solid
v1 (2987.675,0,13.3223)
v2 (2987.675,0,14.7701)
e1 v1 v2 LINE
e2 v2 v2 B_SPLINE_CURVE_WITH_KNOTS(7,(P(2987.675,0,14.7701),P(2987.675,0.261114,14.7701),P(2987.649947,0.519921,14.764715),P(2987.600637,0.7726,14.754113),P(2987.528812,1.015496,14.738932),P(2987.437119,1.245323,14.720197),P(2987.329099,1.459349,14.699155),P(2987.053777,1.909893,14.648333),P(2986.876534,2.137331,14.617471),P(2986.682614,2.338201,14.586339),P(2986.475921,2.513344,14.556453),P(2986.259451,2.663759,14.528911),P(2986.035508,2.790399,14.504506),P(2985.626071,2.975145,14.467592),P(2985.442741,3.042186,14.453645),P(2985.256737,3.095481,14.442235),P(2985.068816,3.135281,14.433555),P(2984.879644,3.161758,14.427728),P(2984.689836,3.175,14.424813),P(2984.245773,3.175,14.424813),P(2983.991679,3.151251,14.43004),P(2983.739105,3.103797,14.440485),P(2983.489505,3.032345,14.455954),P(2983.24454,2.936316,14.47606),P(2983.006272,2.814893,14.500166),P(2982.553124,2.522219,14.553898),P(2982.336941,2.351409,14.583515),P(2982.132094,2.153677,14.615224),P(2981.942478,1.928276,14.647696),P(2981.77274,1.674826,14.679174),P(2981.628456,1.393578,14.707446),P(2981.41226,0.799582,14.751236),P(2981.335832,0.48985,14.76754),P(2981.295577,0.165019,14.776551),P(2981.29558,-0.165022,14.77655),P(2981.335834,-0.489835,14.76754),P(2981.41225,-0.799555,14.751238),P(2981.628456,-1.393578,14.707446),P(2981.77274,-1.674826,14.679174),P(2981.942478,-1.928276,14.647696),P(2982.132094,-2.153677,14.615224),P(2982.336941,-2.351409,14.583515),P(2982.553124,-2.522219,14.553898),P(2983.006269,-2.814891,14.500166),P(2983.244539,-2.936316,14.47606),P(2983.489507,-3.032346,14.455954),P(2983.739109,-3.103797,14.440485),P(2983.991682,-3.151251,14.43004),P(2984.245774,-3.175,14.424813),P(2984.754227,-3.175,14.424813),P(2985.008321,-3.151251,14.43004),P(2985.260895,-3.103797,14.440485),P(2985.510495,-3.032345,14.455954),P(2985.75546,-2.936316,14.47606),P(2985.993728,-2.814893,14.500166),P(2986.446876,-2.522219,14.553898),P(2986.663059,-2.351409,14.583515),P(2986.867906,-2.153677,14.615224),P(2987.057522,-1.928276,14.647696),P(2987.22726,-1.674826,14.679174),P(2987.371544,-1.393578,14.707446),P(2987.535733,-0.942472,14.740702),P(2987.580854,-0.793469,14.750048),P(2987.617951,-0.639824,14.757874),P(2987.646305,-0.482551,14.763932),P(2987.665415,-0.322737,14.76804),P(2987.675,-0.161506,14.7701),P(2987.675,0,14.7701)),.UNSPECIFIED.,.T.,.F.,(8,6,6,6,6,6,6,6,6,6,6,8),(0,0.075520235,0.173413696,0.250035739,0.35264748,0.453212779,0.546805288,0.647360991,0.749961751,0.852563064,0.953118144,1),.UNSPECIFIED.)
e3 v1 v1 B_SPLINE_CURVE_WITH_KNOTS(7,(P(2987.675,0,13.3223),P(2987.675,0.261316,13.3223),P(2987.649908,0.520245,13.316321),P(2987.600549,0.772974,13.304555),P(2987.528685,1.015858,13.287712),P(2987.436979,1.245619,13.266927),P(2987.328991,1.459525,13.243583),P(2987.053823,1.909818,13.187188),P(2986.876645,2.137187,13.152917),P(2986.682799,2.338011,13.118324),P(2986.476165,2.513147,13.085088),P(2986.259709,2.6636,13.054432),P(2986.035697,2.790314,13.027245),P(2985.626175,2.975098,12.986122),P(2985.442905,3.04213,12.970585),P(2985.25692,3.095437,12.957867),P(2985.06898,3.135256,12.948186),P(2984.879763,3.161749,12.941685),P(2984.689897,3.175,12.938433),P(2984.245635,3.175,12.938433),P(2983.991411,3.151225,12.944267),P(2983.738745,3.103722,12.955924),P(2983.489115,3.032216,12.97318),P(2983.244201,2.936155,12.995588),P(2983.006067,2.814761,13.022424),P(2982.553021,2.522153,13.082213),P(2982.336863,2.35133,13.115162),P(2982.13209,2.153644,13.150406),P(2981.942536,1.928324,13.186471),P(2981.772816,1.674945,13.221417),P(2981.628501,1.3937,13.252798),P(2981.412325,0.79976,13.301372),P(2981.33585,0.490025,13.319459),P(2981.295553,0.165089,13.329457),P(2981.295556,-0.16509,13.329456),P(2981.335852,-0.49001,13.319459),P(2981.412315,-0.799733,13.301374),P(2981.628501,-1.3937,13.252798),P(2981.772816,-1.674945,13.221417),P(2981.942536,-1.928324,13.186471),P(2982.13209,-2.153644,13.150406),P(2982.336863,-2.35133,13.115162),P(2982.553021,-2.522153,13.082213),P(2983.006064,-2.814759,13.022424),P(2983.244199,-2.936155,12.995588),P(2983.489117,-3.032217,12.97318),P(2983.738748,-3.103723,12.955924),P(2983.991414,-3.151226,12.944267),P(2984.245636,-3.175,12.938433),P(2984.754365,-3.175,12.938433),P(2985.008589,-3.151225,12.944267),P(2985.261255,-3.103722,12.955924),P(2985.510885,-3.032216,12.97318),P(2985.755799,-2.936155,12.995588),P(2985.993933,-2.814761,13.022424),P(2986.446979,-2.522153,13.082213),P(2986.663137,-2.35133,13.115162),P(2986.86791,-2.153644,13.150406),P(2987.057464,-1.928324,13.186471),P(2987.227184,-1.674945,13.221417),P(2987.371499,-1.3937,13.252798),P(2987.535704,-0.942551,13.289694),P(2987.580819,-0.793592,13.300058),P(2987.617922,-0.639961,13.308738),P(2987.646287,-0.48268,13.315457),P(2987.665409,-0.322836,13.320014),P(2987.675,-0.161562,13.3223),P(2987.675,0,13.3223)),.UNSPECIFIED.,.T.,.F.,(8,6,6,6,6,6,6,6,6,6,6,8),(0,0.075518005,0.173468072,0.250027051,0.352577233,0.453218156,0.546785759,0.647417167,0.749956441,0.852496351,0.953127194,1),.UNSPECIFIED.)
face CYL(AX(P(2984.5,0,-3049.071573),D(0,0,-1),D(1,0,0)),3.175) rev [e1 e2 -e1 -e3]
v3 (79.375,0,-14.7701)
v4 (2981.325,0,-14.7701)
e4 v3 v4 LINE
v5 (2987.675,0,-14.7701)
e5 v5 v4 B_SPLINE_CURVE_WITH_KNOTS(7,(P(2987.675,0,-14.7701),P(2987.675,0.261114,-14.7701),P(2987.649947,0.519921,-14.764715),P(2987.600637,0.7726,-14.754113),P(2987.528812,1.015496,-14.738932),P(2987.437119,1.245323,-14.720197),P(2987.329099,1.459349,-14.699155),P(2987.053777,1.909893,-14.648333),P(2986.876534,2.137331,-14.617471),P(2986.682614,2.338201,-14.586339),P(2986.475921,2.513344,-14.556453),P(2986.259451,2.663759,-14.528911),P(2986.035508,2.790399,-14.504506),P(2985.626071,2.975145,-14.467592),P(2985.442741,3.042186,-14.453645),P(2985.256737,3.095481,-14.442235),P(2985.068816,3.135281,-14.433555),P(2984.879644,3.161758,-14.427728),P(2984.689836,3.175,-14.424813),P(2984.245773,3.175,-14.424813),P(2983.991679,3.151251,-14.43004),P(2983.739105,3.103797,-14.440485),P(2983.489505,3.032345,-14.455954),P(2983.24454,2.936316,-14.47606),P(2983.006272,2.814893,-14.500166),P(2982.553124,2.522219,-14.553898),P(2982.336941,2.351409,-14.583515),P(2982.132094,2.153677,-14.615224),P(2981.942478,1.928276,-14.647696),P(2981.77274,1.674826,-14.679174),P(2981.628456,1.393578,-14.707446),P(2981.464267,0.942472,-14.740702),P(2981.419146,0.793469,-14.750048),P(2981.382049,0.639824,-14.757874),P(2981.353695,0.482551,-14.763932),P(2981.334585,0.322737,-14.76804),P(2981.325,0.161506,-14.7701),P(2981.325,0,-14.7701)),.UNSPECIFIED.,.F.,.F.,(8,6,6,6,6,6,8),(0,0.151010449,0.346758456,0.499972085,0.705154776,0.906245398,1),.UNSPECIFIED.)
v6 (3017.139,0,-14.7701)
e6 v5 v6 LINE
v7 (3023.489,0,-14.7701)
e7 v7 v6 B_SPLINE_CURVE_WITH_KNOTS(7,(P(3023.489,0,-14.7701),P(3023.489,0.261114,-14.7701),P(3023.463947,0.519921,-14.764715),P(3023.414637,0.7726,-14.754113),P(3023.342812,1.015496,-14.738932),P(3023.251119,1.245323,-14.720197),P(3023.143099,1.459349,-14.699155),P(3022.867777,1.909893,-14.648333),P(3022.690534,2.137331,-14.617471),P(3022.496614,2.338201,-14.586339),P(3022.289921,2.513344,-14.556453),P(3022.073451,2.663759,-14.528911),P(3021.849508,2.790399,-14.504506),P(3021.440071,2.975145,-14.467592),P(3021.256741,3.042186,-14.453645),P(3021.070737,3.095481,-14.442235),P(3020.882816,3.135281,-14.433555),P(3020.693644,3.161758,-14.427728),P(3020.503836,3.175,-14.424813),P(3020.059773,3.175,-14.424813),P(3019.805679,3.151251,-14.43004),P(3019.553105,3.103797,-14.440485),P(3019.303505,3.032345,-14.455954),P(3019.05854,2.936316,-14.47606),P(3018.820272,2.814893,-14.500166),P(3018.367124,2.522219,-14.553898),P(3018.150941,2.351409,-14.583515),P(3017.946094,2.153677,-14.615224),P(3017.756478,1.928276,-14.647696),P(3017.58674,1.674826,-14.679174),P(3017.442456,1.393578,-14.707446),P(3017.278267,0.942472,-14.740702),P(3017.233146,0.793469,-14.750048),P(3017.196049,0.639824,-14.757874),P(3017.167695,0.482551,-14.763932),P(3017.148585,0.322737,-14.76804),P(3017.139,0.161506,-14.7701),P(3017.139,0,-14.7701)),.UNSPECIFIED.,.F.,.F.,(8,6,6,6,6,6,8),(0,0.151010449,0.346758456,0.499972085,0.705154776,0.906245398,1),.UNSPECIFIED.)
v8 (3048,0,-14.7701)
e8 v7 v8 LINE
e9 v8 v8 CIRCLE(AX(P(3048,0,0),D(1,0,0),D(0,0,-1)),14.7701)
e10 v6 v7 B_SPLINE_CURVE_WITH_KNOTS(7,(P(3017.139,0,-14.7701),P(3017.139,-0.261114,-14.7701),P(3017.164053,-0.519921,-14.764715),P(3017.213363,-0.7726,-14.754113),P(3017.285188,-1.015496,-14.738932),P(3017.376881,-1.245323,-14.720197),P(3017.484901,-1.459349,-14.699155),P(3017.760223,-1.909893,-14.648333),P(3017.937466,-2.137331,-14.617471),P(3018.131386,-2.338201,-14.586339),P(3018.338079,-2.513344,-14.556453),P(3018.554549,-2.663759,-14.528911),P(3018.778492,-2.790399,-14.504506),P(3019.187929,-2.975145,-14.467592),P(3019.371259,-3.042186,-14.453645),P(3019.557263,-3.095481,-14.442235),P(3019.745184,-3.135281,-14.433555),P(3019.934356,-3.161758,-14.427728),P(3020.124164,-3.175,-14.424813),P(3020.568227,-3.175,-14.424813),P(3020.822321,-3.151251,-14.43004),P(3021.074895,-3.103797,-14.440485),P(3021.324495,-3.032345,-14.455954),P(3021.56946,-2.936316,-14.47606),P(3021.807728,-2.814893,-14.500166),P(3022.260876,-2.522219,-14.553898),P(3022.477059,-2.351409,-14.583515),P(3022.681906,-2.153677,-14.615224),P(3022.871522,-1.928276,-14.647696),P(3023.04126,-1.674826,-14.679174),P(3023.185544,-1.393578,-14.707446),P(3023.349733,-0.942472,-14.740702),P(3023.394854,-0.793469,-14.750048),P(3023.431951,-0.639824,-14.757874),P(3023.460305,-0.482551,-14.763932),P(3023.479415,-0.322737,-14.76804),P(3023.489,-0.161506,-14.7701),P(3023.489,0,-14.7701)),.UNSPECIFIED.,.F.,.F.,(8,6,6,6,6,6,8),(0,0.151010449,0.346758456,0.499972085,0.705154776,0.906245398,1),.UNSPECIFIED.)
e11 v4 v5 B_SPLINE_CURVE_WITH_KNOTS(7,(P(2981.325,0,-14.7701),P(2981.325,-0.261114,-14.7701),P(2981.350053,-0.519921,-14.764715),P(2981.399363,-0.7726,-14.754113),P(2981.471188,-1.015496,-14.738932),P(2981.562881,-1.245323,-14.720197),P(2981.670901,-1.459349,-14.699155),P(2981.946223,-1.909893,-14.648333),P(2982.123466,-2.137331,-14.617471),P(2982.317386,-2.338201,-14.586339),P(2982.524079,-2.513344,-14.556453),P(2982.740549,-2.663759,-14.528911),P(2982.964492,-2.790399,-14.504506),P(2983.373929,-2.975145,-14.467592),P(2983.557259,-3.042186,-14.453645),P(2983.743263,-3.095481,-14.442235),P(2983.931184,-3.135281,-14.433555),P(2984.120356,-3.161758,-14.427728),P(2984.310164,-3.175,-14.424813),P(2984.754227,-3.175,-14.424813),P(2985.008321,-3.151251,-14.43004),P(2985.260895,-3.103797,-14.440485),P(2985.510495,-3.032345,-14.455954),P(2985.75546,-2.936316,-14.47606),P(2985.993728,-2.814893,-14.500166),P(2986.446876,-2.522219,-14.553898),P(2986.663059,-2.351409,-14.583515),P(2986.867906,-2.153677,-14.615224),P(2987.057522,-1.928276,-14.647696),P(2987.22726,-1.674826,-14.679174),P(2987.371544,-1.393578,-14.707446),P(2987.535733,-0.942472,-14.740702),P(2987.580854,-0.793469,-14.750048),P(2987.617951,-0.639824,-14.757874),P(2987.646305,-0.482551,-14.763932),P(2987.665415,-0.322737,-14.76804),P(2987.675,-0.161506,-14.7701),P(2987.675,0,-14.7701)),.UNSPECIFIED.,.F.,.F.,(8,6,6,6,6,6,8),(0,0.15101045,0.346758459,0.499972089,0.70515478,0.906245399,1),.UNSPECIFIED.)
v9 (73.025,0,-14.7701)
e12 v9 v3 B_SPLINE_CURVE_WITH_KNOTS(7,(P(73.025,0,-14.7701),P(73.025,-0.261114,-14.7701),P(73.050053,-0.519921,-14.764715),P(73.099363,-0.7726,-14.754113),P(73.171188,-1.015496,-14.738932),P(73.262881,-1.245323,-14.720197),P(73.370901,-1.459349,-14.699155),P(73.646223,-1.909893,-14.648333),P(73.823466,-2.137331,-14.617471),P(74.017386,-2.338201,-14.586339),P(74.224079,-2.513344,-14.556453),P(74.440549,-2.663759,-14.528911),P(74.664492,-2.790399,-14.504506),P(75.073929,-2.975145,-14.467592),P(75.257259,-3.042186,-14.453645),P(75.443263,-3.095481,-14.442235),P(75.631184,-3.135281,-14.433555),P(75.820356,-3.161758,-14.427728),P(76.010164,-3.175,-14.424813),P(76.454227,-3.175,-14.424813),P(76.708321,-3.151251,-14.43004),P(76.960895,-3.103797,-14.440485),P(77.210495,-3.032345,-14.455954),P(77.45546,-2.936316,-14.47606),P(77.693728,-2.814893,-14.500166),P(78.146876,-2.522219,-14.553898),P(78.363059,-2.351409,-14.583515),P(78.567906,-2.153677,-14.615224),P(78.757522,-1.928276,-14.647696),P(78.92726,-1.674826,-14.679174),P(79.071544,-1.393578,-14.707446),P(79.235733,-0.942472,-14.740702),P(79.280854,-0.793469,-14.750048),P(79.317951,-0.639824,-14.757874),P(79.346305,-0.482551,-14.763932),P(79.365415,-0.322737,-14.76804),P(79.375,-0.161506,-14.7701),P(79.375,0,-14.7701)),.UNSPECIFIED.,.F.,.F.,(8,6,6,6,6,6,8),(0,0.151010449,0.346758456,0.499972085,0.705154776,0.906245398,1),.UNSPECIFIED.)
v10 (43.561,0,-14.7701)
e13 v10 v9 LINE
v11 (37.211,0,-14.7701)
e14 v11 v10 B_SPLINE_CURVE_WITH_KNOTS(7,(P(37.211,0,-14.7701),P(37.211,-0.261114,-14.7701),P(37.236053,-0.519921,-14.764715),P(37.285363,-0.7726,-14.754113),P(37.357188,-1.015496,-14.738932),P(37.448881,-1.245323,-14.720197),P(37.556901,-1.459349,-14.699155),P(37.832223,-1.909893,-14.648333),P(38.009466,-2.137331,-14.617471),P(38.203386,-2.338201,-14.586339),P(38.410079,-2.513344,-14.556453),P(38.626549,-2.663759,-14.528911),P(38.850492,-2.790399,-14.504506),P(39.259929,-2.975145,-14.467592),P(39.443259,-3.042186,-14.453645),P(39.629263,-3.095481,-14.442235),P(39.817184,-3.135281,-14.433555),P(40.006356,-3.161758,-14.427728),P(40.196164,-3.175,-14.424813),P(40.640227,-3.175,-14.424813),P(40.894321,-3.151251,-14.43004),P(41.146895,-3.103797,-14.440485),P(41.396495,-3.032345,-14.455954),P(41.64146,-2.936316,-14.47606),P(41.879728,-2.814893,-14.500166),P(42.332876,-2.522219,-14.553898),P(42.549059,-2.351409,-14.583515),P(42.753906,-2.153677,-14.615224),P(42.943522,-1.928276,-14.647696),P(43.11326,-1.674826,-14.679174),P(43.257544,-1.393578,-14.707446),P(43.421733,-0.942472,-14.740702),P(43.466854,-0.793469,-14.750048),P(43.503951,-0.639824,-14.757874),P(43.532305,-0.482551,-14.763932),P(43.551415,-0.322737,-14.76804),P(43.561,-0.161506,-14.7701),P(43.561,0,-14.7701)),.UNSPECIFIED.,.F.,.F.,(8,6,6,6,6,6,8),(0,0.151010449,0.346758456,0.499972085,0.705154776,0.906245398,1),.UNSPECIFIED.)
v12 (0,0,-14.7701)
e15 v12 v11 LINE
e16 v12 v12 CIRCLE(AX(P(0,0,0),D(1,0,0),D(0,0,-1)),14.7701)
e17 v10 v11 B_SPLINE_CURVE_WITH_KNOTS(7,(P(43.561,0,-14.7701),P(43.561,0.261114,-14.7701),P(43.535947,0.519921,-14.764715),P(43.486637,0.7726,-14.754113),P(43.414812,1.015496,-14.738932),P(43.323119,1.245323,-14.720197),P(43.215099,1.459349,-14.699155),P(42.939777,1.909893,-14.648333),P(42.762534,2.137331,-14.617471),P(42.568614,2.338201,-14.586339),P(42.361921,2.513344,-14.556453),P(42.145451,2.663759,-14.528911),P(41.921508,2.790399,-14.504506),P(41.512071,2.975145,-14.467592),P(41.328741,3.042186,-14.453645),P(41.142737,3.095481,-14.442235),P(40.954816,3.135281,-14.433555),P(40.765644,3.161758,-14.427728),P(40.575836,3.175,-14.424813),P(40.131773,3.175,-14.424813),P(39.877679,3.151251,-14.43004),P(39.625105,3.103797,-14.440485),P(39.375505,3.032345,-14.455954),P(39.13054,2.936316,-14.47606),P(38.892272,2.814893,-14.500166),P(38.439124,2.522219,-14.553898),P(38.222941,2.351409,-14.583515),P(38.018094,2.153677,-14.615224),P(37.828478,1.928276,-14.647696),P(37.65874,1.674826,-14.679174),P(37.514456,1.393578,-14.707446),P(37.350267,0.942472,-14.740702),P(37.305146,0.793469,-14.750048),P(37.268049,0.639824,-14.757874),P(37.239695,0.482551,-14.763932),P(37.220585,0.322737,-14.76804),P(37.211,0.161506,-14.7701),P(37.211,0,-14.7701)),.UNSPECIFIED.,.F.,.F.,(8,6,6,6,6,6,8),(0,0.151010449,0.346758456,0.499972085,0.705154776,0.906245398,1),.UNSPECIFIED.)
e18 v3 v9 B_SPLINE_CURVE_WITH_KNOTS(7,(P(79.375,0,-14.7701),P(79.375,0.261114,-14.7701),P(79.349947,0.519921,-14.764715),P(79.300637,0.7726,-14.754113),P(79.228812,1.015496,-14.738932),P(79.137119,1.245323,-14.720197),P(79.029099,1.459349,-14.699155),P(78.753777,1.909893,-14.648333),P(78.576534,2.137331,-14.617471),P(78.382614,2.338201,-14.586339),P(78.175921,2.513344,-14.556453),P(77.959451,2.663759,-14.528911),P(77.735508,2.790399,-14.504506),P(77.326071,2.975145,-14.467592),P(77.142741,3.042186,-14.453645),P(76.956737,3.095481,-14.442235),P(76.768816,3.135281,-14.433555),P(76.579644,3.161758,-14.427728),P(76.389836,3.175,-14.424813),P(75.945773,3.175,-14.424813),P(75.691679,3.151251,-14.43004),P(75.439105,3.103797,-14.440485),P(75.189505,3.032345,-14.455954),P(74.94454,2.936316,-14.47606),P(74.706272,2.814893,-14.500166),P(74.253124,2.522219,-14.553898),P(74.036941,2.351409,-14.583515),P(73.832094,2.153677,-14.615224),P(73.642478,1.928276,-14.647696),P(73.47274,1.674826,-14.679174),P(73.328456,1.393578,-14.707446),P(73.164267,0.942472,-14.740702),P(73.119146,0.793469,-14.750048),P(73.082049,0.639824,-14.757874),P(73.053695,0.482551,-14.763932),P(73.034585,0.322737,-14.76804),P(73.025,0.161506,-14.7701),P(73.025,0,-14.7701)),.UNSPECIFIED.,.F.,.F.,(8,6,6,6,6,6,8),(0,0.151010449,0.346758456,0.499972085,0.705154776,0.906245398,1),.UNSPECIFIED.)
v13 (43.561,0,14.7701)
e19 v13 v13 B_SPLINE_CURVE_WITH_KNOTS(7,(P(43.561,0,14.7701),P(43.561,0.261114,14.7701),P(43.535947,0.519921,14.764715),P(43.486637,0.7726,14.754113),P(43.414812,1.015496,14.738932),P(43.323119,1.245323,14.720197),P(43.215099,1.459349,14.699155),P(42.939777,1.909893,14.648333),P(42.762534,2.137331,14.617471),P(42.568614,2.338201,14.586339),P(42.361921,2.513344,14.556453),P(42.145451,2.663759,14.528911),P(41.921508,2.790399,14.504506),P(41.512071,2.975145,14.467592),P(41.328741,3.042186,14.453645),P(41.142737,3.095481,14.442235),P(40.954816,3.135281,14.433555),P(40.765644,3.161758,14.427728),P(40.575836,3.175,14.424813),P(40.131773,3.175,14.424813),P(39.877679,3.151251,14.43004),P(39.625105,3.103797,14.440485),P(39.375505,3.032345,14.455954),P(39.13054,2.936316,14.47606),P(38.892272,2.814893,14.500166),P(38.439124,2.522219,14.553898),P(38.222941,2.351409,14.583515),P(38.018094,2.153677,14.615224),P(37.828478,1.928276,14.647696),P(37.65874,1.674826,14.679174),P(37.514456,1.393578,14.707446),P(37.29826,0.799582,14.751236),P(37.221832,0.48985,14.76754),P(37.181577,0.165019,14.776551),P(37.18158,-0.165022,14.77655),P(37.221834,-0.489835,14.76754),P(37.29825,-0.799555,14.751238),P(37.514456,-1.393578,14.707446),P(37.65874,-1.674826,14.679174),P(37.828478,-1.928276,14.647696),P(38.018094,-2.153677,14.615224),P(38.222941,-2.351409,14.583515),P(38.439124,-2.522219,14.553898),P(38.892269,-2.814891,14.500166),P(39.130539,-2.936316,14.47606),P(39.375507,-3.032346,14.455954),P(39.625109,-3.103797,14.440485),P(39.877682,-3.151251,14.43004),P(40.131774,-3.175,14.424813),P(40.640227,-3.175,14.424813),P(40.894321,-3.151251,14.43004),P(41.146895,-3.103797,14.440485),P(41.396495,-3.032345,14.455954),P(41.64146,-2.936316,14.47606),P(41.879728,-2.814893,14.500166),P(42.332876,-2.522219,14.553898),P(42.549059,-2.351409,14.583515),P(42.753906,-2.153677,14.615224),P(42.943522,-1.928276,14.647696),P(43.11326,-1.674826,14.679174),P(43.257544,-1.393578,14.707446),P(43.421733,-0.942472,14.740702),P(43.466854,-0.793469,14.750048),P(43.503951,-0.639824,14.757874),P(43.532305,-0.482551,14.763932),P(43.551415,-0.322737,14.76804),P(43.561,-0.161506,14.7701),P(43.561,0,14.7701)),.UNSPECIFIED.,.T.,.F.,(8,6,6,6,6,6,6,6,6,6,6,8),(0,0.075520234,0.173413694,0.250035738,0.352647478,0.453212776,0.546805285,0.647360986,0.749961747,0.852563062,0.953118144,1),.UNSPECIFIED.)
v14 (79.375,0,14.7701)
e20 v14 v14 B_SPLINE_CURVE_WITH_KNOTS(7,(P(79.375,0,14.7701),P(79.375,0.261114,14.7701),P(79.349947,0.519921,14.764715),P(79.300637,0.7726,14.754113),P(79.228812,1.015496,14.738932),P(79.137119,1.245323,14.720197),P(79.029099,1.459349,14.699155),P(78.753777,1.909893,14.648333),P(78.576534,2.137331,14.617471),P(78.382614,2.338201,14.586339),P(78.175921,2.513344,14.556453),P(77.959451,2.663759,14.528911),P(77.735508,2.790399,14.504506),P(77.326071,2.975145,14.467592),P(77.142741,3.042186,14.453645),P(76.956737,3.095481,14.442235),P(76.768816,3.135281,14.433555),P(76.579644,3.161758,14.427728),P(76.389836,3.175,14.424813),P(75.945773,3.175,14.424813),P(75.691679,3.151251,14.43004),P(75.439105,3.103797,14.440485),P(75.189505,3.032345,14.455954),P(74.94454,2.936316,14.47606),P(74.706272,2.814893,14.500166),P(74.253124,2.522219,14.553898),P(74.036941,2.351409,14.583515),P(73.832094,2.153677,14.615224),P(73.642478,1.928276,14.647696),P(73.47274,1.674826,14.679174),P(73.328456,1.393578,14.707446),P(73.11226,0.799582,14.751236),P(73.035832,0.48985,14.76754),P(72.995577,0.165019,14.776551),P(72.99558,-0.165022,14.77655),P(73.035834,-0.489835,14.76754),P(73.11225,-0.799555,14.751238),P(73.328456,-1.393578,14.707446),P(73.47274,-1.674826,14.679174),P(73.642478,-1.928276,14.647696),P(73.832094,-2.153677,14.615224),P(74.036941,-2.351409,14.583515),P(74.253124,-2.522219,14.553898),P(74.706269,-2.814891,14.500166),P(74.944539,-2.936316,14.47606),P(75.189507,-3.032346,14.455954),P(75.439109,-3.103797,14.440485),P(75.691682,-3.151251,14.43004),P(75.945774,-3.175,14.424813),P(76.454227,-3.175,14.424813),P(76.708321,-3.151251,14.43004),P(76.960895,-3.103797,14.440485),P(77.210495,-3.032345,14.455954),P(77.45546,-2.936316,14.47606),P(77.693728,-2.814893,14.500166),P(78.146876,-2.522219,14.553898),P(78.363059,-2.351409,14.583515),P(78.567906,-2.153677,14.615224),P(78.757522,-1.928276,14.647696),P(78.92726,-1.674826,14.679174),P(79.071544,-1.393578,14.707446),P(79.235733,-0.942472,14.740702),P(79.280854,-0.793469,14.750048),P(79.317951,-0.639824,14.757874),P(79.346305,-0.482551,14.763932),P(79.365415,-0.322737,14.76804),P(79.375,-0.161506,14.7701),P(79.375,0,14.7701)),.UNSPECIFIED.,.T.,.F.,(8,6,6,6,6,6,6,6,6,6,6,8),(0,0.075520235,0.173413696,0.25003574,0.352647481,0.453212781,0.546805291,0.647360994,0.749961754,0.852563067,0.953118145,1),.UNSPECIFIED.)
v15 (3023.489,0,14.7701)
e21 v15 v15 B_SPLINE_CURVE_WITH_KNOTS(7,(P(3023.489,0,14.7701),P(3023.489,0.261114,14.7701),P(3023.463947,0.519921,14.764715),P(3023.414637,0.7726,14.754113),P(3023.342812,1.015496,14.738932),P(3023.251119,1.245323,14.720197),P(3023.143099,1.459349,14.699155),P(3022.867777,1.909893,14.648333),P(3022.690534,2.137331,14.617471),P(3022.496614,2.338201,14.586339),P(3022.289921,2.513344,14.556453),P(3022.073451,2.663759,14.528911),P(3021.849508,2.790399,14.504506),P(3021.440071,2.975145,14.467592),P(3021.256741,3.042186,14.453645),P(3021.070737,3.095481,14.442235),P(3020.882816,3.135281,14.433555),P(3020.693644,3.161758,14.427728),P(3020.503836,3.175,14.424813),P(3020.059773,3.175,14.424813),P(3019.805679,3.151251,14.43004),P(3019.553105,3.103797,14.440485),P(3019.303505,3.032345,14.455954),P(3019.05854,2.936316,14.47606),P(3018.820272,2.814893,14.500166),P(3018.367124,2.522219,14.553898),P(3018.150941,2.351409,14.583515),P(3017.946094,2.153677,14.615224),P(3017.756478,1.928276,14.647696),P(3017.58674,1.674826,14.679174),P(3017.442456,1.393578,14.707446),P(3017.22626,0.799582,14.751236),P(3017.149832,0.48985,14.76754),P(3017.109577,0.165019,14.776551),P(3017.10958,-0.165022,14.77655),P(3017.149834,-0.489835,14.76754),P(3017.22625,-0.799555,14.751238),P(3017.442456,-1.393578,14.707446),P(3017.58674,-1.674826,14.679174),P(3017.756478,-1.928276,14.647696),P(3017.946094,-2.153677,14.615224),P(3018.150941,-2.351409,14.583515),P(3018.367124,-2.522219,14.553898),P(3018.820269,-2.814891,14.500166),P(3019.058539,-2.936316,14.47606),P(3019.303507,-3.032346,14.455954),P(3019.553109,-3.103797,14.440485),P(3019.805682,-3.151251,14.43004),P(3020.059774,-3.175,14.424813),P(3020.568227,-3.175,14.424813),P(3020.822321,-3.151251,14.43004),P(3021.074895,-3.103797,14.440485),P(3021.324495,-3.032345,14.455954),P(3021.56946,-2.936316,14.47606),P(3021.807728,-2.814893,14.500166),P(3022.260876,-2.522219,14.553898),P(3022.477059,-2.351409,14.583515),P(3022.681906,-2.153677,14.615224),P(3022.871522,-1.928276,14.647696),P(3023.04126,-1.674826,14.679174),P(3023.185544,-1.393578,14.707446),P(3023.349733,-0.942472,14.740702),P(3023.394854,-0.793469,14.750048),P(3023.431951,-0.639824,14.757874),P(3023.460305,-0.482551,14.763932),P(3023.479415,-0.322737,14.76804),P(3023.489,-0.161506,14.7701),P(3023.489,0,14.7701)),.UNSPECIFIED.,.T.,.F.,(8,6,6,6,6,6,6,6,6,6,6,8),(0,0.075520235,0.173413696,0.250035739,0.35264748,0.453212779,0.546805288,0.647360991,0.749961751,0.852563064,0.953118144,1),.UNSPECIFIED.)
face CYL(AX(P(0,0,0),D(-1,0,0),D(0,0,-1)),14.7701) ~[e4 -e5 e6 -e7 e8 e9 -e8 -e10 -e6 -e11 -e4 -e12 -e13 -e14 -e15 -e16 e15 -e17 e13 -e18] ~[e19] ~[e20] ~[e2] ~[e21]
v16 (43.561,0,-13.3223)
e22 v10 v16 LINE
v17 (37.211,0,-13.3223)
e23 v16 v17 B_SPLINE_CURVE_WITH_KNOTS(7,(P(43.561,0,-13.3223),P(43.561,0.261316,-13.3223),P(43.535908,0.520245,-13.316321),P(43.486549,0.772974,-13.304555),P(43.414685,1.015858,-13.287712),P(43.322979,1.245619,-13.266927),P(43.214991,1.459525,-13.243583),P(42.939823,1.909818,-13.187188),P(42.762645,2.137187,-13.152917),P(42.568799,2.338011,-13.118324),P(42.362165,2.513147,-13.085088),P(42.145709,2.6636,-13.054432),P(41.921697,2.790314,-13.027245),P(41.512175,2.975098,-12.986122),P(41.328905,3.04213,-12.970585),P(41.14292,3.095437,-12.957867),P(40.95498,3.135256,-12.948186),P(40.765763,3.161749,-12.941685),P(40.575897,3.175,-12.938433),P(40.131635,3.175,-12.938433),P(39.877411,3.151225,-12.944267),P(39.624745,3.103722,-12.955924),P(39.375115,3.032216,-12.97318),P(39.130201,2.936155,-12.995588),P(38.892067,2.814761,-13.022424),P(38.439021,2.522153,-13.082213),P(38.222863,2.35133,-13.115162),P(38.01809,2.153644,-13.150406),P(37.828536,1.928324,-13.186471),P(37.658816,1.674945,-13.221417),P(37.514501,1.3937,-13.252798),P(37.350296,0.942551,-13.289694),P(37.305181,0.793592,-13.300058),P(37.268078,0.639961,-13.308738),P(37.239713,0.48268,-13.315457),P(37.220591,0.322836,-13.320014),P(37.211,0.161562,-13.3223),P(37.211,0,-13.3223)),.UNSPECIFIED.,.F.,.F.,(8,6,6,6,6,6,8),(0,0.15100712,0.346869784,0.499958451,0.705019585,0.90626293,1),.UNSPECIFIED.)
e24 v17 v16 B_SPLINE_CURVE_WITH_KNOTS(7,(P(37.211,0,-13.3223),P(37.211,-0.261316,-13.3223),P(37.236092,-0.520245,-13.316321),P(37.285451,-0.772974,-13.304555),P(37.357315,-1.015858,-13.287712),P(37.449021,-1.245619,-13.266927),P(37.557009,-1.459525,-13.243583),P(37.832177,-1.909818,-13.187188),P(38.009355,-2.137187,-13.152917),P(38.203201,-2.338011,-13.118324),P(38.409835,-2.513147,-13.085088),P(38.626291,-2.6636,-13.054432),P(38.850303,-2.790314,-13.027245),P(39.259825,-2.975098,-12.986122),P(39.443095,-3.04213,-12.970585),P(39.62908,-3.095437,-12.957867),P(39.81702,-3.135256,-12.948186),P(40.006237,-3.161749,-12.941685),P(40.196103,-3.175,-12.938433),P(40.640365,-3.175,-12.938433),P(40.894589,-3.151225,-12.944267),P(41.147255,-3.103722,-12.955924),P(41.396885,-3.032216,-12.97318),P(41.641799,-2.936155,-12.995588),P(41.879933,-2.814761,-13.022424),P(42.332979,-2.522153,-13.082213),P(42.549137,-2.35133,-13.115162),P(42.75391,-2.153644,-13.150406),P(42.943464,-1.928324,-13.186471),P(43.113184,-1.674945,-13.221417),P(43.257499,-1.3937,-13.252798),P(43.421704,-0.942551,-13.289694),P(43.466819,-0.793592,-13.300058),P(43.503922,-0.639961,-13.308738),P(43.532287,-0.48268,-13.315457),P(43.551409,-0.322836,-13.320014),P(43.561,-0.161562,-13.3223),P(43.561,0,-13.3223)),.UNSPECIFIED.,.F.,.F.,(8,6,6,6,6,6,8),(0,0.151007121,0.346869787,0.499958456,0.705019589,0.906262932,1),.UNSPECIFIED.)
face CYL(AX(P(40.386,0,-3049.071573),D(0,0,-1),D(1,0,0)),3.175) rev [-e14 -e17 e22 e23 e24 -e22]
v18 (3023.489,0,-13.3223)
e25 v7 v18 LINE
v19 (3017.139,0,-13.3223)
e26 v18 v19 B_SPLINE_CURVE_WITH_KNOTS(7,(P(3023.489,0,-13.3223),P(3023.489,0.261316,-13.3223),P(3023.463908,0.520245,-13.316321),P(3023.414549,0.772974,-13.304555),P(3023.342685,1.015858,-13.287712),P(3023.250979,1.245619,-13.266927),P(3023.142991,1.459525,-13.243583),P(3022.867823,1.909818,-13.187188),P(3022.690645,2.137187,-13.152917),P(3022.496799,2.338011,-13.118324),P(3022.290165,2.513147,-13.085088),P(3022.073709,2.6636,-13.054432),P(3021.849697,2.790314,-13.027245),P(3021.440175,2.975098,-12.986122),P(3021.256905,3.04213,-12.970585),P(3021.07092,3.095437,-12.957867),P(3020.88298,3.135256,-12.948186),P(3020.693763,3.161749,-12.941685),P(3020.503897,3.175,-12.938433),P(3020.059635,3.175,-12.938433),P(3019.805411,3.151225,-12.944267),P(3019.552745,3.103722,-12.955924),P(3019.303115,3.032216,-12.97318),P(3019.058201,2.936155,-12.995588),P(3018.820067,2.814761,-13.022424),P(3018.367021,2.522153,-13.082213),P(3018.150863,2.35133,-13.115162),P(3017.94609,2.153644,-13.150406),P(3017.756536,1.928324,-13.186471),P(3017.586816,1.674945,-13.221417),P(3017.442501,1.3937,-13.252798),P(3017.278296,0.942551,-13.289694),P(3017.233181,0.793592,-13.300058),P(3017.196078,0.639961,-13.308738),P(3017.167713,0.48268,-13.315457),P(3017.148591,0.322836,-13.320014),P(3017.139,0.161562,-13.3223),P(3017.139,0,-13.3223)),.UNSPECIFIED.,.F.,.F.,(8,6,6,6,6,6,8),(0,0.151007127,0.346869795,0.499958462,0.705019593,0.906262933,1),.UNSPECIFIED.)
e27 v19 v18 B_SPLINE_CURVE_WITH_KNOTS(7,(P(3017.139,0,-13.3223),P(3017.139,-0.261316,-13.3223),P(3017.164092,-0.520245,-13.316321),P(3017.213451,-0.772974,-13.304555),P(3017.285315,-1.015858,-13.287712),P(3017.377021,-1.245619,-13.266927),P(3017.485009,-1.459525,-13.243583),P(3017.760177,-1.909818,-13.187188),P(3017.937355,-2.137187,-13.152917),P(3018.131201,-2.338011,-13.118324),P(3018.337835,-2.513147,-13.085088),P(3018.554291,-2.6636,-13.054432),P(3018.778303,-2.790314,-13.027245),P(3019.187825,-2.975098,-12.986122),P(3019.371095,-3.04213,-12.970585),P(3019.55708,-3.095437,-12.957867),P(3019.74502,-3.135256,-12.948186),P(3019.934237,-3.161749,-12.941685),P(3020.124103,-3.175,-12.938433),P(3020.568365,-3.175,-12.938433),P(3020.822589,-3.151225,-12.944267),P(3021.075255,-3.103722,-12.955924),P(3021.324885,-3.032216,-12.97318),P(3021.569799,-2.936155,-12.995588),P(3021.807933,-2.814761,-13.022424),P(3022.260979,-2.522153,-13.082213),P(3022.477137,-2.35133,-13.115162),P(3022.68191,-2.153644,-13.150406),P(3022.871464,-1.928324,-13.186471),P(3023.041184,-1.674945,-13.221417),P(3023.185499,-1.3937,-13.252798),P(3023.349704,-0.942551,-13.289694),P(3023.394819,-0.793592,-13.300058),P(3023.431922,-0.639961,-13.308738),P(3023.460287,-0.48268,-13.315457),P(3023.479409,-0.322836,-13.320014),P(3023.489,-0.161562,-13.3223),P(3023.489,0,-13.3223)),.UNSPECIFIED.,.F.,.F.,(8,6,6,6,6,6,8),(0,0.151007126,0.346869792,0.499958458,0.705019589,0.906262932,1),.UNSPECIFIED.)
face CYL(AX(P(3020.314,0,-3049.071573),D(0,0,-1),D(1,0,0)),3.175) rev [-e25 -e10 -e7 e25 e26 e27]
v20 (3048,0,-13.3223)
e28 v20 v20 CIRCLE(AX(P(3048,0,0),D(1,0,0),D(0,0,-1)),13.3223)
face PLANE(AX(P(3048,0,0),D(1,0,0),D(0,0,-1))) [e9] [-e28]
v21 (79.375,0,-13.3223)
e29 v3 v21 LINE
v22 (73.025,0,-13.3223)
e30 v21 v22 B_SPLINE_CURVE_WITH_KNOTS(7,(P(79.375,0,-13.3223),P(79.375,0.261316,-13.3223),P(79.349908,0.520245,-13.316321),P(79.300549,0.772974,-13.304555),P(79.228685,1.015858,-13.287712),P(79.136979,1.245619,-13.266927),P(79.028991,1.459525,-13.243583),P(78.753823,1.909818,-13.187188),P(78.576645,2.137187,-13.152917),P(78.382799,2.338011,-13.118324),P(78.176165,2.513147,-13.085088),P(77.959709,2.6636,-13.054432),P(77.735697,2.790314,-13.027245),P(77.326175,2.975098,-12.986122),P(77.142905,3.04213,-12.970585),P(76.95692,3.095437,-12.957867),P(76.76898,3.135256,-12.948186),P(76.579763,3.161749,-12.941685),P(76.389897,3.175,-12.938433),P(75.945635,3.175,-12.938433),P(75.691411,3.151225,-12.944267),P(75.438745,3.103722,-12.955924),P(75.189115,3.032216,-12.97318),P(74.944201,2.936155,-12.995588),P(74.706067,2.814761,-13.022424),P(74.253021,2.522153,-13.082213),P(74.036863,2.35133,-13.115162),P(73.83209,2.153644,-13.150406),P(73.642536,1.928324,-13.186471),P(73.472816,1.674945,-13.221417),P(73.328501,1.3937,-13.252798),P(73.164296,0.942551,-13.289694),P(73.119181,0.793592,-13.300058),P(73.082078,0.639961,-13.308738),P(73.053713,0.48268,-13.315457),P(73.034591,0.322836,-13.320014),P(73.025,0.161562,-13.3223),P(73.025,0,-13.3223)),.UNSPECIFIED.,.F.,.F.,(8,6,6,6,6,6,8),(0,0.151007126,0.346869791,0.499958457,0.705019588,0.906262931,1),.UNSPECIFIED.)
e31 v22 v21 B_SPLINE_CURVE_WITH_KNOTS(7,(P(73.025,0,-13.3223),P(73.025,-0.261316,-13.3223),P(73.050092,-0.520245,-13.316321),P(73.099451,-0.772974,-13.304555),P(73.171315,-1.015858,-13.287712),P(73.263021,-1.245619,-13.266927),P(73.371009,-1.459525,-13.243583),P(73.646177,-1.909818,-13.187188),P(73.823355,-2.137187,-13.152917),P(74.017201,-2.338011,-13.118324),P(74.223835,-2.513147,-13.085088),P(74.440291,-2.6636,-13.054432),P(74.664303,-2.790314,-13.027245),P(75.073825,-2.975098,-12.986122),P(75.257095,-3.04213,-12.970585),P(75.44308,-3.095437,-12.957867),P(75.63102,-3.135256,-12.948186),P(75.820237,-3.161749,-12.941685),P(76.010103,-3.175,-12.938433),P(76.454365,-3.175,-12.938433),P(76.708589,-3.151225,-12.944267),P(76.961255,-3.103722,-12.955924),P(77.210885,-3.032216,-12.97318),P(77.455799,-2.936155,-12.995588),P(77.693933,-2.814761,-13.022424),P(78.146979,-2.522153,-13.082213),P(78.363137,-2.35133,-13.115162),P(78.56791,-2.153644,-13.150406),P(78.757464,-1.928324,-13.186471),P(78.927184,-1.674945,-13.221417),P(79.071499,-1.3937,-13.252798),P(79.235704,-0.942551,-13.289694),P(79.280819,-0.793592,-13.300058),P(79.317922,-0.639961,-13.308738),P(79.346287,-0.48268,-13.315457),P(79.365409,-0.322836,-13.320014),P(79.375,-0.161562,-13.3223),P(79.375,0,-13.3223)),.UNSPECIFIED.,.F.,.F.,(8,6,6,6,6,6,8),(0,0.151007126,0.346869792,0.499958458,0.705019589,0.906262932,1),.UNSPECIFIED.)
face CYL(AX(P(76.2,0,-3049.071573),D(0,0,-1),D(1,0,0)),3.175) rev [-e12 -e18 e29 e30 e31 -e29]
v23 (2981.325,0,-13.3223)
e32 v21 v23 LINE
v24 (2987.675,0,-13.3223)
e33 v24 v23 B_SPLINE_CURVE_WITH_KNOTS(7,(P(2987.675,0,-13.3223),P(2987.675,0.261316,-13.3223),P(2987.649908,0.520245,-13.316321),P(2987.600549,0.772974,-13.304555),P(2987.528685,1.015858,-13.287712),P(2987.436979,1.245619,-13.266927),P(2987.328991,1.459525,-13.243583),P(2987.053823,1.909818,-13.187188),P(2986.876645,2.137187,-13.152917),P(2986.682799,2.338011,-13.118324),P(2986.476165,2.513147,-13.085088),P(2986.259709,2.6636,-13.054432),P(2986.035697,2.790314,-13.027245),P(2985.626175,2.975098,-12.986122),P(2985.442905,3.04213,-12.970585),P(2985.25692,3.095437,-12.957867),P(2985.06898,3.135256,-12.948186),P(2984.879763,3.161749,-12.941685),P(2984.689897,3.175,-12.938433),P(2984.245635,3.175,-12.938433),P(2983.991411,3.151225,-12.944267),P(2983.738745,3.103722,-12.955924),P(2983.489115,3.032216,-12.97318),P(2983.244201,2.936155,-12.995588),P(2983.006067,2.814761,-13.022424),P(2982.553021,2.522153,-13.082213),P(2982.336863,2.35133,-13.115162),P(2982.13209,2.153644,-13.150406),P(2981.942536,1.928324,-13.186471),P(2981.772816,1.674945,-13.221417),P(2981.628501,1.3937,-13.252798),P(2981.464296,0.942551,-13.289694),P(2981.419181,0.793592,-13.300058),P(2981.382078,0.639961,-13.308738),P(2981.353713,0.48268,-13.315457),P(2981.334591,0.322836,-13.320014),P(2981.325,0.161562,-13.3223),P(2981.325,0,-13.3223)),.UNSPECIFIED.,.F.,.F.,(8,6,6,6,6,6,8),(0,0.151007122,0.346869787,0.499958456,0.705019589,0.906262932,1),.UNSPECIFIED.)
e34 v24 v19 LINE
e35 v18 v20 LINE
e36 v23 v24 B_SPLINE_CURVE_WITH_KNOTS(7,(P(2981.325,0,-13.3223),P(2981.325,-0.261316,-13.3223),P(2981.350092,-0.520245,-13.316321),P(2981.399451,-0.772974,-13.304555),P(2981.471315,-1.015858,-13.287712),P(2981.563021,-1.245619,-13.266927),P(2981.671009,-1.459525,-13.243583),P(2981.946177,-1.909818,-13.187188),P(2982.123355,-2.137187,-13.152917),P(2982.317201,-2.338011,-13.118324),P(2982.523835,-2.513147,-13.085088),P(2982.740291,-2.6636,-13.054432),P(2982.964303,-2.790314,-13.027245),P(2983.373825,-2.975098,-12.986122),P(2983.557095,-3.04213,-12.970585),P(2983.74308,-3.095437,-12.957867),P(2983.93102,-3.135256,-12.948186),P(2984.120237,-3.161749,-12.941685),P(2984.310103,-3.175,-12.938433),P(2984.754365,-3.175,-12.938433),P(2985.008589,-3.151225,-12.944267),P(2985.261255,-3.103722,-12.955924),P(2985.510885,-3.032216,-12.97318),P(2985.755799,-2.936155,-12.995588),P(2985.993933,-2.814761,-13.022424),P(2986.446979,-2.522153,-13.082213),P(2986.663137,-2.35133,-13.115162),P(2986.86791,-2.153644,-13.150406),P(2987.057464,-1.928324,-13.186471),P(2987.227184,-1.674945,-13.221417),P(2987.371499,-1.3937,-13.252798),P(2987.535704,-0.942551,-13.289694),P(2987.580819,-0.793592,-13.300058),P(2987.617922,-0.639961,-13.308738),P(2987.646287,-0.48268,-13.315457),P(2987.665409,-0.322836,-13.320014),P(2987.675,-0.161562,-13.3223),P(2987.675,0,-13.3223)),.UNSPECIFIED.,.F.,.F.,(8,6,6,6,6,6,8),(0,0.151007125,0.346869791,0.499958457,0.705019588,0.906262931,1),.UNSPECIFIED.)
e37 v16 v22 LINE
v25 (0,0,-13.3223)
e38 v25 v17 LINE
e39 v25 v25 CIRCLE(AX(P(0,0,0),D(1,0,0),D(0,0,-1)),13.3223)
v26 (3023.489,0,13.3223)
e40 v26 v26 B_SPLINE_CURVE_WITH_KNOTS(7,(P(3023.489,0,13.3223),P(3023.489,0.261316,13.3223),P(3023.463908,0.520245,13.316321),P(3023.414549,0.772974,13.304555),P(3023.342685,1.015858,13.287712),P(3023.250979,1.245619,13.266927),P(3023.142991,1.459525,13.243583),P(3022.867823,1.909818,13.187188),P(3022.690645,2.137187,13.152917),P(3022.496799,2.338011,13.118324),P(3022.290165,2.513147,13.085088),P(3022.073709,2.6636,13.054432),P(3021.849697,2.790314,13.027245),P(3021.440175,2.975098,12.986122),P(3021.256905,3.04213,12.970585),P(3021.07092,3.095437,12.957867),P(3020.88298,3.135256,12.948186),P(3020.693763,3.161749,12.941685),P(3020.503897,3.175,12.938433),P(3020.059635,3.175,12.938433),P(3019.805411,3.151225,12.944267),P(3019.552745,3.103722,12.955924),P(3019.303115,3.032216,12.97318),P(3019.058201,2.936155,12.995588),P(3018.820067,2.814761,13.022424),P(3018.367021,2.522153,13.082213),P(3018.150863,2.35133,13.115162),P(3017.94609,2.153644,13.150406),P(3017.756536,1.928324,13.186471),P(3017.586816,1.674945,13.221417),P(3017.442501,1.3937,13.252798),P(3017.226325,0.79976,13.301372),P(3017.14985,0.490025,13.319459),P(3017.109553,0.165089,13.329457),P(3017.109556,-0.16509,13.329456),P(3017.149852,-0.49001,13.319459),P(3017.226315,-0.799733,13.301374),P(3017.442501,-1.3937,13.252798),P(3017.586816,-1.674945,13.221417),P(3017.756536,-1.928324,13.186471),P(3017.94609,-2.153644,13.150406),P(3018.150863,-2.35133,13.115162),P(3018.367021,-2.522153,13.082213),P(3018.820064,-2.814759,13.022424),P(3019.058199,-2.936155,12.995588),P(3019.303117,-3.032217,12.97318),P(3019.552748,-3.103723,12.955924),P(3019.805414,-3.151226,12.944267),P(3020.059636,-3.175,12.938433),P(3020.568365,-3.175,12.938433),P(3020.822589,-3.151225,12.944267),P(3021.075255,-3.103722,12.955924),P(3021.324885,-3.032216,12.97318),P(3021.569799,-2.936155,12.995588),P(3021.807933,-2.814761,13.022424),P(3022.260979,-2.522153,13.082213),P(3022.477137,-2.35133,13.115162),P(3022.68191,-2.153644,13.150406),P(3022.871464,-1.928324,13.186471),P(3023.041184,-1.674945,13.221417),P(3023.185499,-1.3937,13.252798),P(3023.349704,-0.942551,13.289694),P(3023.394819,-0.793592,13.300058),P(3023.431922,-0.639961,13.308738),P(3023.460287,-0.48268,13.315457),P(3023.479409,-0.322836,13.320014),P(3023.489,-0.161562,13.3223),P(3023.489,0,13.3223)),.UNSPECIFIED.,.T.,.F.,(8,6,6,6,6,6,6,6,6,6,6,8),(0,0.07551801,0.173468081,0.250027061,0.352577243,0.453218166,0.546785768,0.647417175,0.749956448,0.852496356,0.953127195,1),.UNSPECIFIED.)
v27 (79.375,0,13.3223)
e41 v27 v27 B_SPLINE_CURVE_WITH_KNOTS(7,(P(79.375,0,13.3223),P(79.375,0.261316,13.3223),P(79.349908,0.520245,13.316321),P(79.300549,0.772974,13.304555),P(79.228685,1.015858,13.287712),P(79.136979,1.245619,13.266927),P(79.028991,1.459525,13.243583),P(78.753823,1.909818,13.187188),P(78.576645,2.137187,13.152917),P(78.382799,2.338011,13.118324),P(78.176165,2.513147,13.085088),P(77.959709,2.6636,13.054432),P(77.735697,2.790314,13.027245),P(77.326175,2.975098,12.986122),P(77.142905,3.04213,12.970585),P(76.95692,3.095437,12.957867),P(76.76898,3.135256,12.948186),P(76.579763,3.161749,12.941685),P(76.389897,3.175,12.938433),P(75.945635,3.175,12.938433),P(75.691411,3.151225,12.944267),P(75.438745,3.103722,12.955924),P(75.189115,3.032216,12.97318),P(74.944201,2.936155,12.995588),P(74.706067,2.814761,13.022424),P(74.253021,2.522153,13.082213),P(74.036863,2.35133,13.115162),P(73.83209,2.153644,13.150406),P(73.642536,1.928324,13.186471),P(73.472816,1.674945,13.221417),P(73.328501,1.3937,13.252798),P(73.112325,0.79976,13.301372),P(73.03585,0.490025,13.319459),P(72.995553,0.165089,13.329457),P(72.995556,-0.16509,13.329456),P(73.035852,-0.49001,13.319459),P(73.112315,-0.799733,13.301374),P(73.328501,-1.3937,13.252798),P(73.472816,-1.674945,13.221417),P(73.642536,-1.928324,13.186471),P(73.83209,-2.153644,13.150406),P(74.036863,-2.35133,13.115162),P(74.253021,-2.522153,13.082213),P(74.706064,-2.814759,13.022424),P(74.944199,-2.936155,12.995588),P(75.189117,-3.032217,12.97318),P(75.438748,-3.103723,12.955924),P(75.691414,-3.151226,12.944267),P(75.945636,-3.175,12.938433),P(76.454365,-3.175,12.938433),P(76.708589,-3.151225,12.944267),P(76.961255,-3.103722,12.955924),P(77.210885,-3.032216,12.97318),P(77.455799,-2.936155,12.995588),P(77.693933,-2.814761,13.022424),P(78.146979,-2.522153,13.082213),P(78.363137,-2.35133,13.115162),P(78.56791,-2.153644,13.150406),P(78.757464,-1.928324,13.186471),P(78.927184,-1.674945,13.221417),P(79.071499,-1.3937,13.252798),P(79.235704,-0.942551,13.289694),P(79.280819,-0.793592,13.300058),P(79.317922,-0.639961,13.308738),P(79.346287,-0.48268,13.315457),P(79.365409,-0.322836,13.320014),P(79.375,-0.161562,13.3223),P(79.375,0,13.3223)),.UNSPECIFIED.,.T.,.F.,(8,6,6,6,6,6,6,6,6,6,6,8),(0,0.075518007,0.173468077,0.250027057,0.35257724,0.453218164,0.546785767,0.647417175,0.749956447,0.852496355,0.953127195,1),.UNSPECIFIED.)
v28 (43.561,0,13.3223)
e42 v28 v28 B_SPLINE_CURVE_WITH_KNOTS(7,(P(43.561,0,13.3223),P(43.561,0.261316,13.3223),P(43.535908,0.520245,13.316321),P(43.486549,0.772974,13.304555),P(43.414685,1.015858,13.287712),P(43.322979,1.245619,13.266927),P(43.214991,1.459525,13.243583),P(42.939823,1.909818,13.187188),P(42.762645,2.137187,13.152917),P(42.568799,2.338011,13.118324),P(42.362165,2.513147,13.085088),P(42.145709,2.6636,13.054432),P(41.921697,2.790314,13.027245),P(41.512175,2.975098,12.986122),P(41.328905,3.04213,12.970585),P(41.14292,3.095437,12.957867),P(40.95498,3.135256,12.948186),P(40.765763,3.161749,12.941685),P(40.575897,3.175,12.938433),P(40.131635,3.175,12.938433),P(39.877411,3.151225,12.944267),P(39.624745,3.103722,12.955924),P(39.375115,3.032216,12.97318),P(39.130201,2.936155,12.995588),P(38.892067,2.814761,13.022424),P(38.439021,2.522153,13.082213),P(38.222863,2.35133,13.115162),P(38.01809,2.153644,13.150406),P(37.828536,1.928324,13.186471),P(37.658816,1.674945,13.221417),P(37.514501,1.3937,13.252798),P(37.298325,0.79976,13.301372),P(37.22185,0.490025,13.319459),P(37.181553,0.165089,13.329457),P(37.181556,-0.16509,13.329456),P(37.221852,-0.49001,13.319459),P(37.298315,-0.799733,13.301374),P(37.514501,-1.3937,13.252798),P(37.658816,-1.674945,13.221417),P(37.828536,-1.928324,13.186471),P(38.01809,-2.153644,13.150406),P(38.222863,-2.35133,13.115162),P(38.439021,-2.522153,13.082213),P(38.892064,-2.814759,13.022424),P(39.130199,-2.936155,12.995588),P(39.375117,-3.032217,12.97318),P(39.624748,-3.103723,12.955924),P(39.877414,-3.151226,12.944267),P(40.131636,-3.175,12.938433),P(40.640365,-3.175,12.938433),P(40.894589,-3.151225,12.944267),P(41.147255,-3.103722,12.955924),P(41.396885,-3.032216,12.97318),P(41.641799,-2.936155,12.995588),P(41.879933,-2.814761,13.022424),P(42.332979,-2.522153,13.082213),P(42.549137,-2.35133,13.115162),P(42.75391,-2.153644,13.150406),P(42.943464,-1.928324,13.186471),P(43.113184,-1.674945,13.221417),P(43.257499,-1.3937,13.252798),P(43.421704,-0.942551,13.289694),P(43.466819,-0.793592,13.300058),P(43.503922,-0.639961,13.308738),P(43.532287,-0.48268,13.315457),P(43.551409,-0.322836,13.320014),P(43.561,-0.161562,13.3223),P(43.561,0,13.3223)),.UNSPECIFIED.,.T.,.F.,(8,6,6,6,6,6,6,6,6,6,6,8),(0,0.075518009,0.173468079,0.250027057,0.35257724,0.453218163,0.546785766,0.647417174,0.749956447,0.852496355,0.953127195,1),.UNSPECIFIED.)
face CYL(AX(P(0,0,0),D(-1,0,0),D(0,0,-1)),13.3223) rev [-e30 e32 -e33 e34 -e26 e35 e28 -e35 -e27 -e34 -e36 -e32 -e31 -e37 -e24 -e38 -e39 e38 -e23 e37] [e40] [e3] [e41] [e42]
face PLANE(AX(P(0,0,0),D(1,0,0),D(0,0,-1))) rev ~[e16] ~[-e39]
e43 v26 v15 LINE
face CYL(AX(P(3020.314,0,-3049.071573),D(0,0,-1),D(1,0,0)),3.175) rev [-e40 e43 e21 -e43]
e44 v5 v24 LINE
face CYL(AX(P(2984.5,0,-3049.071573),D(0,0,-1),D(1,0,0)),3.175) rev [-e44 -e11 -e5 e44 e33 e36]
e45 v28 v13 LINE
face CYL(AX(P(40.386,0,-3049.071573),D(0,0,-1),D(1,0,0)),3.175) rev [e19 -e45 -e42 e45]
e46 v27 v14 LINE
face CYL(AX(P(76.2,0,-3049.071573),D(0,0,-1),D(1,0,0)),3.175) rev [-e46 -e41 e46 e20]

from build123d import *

# Parameters (mm, degrees)
SKETCH3_R               = 14.7701
SKETCH3_R_2             = 13.3223
BOSS_EXTRUDE1_DEPTH     = 3048
CUT_EXTRUDE1_DEPTH      = 3049.071572603
CUT_EXTRUDE1_DEPTH_BACK = 3049.071572603
SKETCH4_R               = 3.175


with BuildPart() as part:
    # Sketch3 → Boss-Extrude1 (new body)
    with BuildSketch(Plane(origin=(0, 0, 0), x_dir=(0, 0, -1), z_dir=(1, 0, 0))):
        Circle(SKETCH3_R)
        Circle(SKETCH3_R_2, mode=Mode.SUBTRACT)
    extrude(amount=BOSS_EXTRUDE1_DEPTH)

    # Sketch4 → Cut-Extrude1 (cut, two sides: drawn at the far end of the back side and taken through both)
    with BuildSketch(Plane.XY.offset(-CUT_EXTRUDE1_DEPTH_BACK)):
        with Locations((40.386, 0)):
            Circle(SKETCH4_R)
        with Locations((76.2, 0)):
            Circle(SKETCH4_R)
        with Locations((3020.314, 0)):
            Circle(SKETCH4_R)
        with Locations((2984.5, 0)):
            Circle(SKETCH4_R)
    extrude(amount=CUT_EXTRUDE1_DEPTH + CUT_EXTRUDE1_DEPTH_BACK, mode=Mode.SUBTRACT)


solid = part.part
